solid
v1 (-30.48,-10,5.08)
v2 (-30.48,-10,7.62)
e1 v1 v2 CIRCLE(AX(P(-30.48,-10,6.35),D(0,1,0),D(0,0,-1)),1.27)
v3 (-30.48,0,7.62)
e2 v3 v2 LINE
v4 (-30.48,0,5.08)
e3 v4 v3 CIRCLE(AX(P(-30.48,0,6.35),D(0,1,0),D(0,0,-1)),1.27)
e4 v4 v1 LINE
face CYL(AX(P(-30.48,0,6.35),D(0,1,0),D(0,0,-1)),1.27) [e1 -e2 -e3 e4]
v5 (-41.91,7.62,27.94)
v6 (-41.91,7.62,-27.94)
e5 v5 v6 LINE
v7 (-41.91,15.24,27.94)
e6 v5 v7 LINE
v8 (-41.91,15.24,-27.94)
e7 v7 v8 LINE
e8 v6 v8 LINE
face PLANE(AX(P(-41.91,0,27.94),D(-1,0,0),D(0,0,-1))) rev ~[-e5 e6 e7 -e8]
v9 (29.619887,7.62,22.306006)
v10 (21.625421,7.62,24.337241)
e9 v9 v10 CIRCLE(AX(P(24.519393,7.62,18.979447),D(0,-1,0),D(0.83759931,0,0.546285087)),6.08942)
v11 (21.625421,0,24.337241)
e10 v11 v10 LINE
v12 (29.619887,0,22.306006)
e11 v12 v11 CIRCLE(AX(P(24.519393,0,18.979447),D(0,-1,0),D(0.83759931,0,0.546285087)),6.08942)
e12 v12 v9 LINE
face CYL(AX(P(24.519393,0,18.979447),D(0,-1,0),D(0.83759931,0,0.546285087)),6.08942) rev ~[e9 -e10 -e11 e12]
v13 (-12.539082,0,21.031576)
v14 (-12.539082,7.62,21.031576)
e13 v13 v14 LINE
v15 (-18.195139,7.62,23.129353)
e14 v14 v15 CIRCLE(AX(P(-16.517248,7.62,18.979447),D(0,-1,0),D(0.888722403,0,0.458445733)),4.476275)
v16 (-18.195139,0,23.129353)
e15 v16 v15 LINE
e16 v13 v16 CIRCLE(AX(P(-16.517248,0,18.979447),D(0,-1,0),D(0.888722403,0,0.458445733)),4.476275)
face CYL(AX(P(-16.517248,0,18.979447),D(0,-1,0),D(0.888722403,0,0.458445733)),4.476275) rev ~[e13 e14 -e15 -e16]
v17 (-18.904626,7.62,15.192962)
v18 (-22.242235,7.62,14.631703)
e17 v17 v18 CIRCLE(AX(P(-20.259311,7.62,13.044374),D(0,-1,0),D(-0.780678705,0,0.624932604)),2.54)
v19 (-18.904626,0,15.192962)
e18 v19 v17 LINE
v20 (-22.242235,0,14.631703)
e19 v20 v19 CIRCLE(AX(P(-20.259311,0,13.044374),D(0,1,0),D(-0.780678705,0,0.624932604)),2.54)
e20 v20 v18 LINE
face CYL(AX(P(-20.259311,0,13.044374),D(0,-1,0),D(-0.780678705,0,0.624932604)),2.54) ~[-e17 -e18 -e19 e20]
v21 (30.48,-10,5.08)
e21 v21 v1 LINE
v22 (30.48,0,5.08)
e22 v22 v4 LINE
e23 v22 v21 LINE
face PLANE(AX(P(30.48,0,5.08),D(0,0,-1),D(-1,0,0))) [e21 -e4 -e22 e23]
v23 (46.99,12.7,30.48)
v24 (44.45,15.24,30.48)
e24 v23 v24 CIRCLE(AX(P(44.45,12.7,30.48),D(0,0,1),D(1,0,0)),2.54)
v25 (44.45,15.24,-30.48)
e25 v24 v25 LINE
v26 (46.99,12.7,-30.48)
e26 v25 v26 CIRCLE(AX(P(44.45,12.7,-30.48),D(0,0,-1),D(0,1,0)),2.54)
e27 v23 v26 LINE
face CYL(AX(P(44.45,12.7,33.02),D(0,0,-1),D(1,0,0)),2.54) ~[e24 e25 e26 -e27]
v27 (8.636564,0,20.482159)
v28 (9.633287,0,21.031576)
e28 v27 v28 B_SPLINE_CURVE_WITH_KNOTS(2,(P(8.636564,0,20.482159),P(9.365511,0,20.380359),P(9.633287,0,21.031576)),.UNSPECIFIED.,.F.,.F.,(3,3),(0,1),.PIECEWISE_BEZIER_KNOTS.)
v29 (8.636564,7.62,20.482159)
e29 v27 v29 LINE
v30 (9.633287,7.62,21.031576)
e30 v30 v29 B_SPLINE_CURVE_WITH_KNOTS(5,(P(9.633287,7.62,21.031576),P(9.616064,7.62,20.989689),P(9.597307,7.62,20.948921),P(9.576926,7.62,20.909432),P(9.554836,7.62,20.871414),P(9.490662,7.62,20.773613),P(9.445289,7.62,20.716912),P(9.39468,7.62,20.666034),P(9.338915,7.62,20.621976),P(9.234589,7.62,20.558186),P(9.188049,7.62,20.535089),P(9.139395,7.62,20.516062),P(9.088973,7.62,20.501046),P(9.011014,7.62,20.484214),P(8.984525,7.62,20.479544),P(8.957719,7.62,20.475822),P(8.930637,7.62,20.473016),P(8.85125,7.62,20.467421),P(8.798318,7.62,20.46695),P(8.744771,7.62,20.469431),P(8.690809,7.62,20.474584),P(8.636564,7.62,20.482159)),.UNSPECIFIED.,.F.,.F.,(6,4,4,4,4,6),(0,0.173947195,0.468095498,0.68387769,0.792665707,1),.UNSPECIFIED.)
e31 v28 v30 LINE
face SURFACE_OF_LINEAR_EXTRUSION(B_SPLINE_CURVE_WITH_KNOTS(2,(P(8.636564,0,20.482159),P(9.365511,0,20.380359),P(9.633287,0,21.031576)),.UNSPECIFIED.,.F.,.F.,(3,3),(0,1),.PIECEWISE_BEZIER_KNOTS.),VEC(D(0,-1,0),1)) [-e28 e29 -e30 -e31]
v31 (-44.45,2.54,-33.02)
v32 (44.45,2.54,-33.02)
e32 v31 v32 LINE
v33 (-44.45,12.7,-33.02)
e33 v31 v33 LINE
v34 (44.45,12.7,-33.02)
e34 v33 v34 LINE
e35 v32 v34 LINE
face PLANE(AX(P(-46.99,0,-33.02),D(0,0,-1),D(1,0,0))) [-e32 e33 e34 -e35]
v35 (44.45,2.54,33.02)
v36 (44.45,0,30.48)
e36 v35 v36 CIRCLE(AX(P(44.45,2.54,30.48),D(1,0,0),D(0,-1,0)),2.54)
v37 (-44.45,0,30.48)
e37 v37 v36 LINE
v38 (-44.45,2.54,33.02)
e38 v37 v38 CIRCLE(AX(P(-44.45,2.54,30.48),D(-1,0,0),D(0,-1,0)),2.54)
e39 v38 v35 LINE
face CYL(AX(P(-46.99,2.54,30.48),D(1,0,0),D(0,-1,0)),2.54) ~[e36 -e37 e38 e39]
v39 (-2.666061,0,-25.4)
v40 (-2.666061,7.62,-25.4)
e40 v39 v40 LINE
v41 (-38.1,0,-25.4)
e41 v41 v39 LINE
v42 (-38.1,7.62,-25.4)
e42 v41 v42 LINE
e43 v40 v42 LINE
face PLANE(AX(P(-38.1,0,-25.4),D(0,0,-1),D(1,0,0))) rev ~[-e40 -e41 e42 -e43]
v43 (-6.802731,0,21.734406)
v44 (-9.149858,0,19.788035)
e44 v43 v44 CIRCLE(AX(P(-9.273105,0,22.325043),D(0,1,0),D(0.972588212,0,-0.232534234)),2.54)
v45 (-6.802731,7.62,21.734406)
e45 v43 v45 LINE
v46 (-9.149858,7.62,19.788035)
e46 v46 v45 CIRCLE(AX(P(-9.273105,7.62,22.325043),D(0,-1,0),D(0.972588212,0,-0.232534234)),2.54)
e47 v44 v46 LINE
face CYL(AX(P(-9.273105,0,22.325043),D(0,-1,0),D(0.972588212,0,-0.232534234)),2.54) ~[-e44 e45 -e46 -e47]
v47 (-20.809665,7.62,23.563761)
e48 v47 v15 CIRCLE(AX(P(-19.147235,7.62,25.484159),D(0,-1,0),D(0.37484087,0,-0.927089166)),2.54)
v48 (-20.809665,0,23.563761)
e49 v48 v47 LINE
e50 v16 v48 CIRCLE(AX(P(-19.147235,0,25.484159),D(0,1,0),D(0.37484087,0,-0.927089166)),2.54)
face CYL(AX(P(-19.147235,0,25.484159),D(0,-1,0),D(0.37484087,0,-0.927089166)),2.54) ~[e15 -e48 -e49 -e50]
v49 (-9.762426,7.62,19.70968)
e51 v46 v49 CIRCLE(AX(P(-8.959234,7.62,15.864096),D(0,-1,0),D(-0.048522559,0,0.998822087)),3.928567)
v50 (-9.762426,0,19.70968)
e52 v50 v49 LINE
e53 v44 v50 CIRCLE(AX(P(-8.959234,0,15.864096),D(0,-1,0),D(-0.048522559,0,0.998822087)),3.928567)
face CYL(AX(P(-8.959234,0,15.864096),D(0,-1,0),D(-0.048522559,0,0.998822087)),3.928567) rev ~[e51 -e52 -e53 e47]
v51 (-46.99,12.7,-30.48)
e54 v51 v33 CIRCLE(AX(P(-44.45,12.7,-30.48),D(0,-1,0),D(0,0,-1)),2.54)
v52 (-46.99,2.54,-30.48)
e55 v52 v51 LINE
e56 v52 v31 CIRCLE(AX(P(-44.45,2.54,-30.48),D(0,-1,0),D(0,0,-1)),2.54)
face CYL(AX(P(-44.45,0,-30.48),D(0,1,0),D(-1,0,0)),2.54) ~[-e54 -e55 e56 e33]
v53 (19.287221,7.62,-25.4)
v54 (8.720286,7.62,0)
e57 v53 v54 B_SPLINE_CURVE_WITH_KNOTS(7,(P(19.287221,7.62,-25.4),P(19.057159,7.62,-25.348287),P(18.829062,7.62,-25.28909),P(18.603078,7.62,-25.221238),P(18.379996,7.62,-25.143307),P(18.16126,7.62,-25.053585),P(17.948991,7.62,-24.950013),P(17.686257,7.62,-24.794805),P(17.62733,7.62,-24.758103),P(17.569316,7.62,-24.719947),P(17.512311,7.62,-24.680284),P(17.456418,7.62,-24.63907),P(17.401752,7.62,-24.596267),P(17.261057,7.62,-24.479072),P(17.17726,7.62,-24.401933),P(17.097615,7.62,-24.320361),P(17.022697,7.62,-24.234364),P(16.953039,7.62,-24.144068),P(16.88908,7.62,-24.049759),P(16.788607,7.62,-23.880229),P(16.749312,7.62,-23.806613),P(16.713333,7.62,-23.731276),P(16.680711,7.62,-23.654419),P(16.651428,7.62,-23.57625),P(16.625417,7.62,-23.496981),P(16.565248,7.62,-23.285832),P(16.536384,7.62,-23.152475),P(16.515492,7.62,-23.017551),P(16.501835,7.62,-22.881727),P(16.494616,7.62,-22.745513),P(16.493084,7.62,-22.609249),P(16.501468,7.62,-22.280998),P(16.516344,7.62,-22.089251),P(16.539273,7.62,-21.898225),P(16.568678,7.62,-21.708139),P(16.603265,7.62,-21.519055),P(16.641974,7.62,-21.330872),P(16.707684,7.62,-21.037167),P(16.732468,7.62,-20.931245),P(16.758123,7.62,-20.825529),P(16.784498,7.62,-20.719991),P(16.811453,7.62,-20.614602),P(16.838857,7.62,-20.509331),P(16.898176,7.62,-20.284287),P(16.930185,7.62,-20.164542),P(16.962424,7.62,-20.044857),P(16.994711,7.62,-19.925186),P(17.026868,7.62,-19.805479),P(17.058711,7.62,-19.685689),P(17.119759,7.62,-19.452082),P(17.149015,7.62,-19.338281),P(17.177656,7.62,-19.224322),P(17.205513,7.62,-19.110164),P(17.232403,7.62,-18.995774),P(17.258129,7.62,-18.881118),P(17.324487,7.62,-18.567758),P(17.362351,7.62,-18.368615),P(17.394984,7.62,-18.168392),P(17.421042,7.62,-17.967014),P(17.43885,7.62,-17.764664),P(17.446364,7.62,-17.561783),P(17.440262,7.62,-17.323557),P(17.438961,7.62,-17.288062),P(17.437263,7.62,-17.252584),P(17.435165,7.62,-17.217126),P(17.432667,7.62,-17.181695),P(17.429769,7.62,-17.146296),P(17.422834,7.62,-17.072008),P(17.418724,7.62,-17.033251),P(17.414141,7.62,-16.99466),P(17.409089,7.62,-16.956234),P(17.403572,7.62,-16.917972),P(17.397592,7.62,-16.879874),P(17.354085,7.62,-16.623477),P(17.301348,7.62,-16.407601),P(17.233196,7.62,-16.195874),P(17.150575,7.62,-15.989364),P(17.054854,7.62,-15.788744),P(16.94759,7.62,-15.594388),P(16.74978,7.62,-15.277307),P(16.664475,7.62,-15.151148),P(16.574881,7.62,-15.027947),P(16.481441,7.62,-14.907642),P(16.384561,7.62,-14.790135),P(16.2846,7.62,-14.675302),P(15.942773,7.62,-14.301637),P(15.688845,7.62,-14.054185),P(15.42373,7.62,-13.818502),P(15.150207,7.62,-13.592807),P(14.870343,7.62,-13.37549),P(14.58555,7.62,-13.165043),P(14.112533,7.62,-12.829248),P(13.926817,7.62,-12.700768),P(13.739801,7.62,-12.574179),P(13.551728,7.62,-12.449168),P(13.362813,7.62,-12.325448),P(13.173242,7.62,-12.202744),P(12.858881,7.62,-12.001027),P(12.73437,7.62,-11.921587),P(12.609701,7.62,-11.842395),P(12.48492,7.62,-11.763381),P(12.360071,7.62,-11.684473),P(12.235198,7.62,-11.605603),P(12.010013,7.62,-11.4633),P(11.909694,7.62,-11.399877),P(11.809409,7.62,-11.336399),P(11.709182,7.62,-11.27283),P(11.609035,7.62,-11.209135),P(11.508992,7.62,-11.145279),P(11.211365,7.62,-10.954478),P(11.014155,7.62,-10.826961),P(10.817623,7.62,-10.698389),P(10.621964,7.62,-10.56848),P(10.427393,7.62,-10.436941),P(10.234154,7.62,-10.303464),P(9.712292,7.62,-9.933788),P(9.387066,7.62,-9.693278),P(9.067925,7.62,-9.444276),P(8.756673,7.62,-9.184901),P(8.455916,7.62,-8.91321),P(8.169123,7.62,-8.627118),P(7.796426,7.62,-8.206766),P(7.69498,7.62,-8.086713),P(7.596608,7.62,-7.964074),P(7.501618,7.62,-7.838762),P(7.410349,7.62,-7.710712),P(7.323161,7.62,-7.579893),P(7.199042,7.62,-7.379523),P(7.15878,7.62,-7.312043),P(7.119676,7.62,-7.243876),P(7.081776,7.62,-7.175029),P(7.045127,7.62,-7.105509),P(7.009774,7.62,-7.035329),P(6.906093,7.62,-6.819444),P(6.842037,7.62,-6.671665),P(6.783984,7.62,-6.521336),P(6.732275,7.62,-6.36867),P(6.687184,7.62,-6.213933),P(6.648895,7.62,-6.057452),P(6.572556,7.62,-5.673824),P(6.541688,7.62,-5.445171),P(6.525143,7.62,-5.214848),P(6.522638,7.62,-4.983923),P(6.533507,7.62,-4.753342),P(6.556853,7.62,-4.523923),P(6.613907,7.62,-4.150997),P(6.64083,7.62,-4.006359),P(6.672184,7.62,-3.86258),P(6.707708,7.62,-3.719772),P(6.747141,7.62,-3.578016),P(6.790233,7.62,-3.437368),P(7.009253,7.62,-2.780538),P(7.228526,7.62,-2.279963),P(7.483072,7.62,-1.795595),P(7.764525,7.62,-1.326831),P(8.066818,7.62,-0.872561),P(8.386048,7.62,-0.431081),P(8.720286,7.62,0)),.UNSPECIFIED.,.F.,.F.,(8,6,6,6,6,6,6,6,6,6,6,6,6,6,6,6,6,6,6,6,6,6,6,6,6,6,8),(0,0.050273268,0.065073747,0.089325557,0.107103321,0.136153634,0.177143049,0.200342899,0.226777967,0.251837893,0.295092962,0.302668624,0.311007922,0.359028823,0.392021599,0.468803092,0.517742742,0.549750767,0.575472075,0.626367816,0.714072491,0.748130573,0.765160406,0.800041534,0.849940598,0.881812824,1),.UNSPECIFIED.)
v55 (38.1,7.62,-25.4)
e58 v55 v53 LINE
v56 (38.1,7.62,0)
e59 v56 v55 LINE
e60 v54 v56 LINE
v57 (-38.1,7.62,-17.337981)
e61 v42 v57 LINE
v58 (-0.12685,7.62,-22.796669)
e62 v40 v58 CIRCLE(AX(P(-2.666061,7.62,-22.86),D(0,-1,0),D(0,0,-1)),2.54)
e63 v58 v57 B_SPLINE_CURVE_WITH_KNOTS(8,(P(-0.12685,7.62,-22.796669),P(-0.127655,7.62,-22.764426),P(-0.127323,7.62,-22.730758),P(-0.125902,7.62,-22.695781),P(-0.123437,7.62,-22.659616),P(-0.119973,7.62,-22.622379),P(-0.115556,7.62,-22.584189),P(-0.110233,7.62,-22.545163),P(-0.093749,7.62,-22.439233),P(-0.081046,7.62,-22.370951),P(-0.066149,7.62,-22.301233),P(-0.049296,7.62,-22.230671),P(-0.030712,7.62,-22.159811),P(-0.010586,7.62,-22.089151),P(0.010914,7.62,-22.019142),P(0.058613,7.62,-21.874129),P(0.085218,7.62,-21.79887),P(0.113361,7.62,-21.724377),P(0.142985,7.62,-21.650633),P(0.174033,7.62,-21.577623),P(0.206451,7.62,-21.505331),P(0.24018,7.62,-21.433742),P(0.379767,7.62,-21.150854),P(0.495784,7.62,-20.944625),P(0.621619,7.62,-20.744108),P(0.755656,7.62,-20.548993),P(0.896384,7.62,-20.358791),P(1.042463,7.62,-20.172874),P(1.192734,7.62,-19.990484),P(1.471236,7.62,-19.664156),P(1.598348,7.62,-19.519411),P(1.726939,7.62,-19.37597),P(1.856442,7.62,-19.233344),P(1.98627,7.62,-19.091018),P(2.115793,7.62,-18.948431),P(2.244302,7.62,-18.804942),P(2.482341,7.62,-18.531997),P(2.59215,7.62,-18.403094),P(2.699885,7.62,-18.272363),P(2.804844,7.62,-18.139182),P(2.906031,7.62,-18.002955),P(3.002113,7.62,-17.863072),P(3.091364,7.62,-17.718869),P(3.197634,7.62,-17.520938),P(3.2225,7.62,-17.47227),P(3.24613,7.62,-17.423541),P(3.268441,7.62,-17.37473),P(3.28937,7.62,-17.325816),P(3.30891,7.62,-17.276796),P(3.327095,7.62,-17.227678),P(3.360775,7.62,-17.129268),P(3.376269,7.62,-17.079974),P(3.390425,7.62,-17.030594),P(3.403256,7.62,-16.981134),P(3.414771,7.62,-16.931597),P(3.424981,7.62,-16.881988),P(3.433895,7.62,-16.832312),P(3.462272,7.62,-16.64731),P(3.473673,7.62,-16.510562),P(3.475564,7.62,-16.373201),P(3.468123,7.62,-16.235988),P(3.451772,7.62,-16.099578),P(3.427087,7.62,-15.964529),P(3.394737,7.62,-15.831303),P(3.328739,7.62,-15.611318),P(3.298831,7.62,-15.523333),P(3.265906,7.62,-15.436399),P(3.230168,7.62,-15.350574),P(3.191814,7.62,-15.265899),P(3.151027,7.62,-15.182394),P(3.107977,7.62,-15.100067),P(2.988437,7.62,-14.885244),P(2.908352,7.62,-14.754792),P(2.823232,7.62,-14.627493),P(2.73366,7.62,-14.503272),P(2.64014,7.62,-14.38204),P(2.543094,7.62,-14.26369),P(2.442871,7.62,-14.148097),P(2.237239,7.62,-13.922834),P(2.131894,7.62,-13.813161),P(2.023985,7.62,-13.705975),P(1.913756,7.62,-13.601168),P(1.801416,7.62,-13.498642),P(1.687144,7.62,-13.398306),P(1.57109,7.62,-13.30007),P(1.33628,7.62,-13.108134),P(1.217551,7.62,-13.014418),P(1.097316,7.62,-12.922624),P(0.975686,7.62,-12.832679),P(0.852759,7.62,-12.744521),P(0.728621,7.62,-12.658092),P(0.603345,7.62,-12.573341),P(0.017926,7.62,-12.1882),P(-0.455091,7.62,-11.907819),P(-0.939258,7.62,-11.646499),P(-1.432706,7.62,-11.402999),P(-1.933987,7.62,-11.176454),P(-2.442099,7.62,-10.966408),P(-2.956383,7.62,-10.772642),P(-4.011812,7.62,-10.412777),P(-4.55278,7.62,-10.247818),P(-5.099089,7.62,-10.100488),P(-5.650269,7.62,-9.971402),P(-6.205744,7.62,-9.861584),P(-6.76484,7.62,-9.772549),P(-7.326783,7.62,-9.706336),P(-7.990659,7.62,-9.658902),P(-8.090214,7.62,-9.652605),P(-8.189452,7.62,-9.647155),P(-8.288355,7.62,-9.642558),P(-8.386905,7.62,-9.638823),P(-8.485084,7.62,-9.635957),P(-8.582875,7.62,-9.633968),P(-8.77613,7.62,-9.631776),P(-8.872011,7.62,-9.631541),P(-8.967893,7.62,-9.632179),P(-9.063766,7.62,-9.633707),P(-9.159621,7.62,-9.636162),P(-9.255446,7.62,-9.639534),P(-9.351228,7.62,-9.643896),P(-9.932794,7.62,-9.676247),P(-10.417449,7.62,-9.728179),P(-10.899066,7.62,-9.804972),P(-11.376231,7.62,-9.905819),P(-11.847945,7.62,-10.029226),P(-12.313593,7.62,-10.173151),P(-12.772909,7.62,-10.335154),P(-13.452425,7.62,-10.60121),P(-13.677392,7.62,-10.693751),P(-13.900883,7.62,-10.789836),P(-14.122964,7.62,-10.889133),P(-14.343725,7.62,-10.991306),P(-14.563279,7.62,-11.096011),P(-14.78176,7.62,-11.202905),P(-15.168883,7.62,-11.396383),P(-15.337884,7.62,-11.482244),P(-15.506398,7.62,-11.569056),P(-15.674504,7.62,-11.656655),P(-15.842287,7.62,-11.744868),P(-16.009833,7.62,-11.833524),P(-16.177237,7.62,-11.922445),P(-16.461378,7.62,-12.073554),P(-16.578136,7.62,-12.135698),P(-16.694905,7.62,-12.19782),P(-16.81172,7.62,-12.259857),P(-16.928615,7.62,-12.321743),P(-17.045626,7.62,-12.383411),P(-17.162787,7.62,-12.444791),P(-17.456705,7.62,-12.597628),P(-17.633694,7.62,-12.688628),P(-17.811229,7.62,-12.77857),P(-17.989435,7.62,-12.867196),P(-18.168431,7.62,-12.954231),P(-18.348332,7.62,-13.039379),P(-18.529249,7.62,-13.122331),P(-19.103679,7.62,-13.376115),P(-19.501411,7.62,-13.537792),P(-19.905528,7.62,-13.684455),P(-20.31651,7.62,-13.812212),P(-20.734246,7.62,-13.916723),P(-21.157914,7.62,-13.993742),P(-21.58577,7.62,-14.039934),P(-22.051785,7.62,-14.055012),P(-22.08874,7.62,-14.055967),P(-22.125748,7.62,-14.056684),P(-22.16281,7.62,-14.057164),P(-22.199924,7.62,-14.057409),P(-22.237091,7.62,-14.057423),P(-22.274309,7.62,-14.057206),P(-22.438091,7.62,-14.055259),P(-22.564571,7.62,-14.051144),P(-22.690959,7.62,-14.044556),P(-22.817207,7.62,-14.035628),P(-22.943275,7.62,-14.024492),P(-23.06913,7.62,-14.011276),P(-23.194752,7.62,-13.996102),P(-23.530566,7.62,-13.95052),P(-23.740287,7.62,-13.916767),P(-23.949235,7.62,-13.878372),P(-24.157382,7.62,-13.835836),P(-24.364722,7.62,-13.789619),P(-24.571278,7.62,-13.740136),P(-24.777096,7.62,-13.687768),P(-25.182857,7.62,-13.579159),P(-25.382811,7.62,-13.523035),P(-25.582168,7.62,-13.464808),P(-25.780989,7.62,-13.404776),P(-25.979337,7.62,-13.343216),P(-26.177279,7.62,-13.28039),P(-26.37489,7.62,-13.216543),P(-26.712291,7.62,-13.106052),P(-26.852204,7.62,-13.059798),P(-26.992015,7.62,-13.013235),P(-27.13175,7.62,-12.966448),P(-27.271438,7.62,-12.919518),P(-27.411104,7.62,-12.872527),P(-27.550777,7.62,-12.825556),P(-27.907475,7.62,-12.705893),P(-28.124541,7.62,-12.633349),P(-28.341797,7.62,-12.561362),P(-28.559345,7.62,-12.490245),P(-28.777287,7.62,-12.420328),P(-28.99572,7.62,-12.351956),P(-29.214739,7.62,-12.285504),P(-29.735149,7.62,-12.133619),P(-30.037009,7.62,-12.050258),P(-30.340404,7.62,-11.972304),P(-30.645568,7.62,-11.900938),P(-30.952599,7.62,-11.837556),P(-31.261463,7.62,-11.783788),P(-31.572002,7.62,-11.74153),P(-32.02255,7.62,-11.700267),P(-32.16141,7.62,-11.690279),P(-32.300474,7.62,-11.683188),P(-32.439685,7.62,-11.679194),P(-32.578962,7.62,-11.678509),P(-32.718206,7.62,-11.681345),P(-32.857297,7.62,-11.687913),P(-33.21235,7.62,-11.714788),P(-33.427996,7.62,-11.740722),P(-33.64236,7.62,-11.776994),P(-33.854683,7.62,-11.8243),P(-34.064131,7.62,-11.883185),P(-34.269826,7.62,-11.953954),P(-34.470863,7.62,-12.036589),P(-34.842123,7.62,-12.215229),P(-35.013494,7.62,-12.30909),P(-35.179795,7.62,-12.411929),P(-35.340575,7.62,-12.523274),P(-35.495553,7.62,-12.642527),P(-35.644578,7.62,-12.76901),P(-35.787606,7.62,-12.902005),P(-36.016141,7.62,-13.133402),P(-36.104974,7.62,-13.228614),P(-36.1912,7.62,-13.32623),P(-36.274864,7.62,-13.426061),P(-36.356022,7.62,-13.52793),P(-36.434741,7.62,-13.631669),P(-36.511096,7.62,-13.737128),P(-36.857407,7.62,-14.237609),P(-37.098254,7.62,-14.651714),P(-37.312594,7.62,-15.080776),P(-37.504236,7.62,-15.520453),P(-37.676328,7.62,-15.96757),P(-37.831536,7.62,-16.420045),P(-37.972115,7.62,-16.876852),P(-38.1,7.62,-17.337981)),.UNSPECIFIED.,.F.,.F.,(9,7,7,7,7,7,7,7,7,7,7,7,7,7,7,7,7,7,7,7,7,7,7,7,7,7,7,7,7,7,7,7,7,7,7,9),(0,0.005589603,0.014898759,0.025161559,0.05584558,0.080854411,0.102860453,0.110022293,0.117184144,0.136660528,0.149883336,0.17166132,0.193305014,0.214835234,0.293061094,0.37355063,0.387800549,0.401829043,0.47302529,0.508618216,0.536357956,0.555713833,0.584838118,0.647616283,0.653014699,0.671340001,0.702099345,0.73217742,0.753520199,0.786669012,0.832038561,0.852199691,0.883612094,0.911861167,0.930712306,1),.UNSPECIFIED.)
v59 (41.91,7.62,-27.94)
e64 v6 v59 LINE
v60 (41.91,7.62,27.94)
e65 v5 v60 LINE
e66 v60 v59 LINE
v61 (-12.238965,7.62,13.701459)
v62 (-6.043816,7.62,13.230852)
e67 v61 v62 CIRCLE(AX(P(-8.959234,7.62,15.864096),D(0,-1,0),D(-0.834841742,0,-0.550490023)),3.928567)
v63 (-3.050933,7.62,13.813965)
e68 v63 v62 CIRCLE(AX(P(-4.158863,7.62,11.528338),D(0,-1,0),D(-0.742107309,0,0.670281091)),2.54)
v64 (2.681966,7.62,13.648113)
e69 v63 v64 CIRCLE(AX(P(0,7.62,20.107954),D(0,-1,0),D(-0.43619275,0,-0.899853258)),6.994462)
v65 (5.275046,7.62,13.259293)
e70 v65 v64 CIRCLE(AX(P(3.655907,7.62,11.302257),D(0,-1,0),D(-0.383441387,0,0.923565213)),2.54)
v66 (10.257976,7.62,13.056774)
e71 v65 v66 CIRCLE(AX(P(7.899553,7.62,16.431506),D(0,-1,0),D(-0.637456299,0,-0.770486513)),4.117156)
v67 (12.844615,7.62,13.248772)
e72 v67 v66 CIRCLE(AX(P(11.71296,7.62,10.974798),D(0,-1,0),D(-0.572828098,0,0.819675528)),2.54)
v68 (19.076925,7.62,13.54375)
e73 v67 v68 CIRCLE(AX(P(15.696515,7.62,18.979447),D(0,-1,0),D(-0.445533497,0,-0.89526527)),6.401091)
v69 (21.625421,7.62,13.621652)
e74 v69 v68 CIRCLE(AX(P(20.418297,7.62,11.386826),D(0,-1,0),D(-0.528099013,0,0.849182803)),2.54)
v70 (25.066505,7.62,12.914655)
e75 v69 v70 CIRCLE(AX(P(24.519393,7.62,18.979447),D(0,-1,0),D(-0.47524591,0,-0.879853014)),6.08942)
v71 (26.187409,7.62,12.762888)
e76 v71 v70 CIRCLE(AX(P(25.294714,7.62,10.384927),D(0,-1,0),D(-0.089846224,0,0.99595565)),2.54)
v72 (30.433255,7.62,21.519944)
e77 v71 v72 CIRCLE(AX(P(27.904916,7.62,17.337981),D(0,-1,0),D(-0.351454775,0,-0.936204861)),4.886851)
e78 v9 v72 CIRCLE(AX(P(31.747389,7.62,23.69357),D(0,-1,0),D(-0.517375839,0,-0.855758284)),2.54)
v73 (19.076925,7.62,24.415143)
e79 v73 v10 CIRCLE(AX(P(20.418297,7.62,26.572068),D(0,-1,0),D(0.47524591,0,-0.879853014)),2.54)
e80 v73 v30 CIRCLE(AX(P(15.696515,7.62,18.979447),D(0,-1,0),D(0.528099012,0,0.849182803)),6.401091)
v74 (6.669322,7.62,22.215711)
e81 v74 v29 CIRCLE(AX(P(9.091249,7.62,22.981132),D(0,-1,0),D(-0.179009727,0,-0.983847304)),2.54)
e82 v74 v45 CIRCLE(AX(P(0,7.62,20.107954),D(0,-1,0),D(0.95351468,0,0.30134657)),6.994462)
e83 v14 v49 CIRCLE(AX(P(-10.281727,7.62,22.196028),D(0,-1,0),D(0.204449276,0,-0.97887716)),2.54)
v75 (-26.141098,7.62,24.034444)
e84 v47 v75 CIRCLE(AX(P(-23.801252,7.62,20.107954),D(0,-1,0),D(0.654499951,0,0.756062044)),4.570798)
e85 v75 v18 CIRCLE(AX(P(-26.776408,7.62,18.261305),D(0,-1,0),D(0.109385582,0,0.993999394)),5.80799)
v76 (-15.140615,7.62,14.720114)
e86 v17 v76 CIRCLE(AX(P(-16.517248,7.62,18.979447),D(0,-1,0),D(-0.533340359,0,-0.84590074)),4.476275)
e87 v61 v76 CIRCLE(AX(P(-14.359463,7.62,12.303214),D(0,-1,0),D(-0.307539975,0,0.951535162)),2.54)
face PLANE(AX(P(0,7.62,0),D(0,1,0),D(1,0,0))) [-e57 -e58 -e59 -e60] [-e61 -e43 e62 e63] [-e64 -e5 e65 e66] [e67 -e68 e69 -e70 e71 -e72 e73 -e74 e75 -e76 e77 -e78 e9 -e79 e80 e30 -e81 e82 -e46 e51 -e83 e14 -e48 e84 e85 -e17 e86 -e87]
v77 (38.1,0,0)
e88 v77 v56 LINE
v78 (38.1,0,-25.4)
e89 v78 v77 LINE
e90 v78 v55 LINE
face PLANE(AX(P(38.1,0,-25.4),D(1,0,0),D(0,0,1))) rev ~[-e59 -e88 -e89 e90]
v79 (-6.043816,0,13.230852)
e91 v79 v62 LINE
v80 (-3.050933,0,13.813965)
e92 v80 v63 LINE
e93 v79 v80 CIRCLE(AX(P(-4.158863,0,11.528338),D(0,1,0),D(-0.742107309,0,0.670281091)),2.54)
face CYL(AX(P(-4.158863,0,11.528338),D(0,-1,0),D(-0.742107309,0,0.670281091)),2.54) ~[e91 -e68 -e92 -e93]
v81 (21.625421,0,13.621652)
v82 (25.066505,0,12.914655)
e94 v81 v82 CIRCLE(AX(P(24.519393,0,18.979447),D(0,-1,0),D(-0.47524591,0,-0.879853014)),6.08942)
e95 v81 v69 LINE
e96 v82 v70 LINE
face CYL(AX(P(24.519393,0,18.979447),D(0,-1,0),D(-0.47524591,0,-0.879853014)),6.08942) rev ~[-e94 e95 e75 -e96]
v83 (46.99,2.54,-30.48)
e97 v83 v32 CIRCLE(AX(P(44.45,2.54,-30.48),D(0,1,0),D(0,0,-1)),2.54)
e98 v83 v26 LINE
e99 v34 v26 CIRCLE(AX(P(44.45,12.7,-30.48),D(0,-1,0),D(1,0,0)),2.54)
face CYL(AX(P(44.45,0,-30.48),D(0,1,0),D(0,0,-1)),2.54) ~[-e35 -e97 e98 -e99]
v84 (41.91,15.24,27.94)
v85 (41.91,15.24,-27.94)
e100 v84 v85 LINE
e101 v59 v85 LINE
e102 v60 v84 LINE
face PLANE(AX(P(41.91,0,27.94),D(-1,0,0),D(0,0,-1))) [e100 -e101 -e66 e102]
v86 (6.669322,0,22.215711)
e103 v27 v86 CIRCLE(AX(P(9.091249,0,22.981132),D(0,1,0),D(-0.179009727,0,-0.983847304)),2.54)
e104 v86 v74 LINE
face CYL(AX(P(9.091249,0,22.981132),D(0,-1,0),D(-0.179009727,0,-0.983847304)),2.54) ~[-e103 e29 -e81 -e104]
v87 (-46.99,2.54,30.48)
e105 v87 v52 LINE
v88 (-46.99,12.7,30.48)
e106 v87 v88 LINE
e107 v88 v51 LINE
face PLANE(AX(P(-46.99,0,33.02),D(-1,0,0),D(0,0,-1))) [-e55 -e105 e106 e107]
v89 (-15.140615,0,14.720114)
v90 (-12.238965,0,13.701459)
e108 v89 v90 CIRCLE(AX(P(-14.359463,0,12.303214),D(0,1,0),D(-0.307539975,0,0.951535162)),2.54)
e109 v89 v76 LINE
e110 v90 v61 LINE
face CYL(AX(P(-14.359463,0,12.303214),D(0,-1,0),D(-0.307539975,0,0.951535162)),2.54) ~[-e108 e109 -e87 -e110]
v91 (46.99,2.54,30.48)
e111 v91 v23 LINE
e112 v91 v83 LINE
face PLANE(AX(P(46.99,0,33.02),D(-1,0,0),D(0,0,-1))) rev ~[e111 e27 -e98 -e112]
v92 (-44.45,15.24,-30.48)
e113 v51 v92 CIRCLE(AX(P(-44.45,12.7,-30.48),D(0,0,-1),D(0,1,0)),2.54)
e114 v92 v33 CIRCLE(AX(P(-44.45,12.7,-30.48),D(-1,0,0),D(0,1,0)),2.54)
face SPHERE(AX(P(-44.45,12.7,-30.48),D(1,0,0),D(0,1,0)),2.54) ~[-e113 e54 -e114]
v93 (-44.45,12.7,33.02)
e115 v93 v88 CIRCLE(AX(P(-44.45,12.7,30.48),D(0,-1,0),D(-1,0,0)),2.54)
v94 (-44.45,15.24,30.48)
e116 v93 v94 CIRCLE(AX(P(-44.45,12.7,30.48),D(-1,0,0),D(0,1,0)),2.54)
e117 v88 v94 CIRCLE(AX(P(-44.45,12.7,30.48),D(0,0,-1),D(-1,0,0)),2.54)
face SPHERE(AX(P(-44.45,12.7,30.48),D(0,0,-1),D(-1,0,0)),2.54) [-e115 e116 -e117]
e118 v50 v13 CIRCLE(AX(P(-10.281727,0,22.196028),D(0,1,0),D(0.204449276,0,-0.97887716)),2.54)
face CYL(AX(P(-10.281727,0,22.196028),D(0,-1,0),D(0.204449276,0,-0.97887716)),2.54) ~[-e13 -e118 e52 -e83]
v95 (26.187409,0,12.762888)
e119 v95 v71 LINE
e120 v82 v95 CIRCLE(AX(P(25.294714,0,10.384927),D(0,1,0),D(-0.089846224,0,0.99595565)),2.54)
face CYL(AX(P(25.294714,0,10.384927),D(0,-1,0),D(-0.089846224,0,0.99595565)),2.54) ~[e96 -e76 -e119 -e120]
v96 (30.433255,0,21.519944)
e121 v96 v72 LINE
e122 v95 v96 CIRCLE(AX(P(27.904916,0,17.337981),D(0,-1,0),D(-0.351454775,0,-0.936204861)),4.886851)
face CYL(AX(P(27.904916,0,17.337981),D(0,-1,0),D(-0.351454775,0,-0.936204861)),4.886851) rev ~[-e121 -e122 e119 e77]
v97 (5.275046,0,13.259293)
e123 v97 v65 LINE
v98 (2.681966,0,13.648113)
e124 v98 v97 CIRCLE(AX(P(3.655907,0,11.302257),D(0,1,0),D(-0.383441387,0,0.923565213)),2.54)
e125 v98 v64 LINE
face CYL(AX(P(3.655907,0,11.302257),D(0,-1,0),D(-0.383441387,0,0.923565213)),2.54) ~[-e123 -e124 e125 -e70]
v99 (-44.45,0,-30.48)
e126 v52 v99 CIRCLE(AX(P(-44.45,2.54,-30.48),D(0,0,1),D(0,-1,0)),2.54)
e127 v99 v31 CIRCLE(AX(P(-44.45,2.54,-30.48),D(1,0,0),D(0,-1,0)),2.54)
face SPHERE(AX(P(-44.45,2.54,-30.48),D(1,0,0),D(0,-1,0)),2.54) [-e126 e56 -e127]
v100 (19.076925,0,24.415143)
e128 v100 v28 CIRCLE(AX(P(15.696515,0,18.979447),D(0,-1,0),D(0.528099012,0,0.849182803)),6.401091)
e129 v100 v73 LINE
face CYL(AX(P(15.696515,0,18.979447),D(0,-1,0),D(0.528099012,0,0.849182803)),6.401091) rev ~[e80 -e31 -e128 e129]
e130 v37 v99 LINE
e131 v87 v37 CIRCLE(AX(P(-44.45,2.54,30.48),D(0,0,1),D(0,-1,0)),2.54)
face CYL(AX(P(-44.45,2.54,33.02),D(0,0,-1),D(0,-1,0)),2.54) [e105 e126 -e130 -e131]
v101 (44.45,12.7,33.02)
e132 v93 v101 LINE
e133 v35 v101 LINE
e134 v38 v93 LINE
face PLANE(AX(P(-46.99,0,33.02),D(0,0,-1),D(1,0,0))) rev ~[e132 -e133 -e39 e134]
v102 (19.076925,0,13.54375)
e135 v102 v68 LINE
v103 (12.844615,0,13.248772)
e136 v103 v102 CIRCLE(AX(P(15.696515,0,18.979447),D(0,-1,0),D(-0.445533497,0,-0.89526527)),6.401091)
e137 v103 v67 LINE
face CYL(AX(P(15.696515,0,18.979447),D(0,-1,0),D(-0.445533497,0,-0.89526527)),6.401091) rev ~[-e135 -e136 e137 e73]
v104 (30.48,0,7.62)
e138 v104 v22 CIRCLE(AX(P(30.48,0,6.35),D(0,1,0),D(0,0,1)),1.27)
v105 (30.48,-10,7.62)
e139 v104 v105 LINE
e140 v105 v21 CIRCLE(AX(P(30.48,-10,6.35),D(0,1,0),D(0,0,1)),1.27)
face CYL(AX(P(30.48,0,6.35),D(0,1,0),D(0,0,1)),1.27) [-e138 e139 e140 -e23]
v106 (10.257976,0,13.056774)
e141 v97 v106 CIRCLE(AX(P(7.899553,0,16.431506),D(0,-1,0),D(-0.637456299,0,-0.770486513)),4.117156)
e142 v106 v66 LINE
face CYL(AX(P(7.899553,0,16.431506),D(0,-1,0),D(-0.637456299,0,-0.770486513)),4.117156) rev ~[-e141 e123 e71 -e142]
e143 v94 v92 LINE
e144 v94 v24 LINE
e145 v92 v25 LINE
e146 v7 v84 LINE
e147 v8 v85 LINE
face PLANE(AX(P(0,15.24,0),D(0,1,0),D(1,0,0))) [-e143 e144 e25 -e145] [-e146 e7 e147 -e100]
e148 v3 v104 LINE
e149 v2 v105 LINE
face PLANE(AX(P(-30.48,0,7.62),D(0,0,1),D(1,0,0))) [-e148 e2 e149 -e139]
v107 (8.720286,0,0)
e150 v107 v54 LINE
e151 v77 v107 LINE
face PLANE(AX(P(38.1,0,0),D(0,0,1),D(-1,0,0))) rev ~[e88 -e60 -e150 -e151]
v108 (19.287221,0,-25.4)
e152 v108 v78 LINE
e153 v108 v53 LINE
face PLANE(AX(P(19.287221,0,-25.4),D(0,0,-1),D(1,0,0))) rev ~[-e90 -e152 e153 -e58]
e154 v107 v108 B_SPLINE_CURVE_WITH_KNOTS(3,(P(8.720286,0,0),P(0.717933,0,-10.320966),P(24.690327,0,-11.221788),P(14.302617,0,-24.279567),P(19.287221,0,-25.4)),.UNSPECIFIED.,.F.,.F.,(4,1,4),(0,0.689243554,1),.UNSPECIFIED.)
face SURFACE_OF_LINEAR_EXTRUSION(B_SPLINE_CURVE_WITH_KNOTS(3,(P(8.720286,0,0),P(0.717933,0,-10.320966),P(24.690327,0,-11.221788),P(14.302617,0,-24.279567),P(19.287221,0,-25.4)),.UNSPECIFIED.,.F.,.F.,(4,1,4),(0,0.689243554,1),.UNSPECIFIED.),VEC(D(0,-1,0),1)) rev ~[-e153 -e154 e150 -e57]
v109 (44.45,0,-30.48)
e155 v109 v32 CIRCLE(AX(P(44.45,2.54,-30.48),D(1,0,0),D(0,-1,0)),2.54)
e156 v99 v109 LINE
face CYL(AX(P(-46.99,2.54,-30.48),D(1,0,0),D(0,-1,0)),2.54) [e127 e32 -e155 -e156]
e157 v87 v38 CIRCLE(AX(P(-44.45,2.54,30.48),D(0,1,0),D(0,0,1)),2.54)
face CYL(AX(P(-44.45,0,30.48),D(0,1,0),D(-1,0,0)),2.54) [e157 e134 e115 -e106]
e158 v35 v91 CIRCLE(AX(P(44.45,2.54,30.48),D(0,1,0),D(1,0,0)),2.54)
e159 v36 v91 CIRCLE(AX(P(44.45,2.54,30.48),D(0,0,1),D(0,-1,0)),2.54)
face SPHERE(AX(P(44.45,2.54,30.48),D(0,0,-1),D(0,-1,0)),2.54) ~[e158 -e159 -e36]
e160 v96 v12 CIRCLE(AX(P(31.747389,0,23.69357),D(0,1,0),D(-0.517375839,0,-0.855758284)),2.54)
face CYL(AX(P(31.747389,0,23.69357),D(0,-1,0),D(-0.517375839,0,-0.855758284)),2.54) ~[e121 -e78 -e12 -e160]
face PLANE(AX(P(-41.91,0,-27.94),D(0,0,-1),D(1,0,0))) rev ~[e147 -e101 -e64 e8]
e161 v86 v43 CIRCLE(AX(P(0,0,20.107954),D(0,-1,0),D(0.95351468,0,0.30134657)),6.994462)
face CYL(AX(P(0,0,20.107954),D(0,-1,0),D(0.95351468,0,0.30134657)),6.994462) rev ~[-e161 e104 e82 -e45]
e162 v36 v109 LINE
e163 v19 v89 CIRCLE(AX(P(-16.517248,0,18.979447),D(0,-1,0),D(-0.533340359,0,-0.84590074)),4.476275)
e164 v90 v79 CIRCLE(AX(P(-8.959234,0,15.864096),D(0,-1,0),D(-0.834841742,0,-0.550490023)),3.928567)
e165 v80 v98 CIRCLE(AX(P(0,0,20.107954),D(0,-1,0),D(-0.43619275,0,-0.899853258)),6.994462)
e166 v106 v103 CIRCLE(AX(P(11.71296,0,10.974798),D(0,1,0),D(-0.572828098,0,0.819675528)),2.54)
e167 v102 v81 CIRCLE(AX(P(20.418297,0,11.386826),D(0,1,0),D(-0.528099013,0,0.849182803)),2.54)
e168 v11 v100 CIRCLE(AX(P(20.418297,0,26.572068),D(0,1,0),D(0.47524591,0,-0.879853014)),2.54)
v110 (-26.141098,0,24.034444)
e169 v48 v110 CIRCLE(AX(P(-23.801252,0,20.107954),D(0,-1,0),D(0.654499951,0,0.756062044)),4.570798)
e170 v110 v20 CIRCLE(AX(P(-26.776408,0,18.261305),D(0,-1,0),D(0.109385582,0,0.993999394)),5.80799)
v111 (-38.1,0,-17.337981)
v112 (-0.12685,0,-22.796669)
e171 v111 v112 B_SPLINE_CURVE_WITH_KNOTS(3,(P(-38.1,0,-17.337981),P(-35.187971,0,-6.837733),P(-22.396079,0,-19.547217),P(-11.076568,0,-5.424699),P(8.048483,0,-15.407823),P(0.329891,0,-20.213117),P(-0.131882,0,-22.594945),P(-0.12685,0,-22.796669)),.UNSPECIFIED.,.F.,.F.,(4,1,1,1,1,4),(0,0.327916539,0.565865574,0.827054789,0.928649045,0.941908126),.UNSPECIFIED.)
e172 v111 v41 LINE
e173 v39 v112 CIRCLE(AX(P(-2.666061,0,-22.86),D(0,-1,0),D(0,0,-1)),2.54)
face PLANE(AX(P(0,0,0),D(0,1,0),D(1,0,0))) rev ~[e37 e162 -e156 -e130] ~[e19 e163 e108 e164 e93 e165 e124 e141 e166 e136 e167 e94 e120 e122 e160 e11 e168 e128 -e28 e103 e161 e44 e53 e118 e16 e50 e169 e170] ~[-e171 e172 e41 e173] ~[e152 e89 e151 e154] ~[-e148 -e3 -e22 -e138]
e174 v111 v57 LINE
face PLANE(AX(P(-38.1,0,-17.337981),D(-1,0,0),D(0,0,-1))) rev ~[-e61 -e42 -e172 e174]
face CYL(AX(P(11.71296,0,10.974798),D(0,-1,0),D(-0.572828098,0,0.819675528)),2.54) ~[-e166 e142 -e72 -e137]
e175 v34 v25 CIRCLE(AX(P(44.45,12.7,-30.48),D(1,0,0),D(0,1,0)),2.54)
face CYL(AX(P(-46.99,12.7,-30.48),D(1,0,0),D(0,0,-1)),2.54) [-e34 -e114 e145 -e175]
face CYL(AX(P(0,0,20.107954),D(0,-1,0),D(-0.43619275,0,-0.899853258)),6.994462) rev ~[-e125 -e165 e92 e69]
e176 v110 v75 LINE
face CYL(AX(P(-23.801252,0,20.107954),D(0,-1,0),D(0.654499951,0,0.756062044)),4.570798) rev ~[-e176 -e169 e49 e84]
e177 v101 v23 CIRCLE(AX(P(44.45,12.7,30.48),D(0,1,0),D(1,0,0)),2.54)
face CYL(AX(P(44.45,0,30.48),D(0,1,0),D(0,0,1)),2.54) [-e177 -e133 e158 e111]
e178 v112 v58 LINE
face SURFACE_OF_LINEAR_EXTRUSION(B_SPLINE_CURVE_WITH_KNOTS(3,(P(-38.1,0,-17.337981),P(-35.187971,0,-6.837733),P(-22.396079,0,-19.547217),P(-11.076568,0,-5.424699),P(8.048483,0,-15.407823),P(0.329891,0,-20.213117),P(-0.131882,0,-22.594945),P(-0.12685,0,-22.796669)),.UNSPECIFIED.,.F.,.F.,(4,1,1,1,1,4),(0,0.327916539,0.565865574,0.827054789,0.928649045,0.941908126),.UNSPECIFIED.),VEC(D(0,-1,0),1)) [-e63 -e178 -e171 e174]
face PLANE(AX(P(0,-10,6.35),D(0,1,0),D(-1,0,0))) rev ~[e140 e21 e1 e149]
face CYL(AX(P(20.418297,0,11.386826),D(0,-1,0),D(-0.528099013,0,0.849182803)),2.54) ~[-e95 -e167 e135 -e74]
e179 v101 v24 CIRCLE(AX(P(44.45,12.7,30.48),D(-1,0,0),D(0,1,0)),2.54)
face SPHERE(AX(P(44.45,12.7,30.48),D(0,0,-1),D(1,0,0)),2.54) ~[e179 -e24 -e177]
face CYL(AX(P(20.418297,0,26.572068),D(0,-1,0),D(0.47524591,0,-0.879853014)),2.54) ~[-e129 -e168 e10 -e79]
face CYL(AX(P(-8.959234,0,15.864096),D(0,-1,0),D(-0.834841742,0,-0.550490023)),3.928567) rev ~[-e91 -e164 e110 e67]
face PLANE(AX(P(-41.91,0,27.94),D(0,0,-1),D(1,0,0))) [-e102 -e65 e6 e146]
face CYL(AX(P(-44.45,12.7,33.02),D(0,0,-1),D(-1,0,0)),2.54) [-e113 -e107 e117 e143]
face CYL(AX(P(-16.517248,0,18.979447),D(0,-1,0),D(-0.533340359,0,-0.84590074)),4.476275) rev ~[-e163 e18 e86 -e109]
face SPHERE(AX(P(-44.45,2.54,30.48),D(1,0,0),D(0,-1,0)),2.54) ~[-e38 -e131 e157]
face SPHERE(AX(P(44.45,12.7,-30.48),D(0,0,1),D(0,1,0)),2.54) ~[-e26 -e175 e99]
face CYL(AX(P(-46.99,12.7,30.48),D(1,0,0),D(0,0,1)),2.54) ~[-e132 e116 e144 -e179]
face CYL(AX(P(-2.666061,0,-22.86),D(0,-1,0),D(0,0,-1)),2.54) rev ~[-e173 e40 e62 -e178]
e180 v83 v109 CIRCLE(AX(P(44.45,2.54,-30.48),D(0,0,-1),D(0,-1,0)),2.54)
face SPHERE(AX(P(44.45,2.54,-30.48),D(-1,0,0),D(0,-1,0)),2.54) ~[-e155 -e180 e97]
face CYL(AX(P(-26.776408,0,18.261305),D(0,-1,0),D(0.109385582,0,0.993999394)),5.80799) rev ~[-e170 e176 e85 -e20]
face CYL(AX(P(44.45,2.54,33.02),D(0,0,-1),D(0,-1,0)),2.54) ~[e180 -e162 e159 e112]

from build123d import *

# Parameters (mm, degrees)
SKETCH1_W           = 93.98
SKETCH1_H           = 66.04
SKETCH1_W_2         = 83.82
SKETCH1_H_2         = 55.88
BOSS_EXTRUDE1_DEPTH = 15.24
SKETCH3_W           = 83.82
SKETCH3_H           = 55.88
BOSS_EXTRUDE2_DEPTH = 7.62
BOSS_EXTRUDE3_DEPTH = 10
FILLET1_R           = 2.54
CUT_EXTRUDE1_DEPTH  = 16.24


with BuildPart() as part:
    # Sketch1 → Boss-Extrude1 (new body)
    with BuildSketch(Plane(origin=(0, 0, 0), x_dir=(1, 0, 0), z_dir=(0, 1, 0))):
        Rectangle(SKETCH1_W, SKETCH1_H)
        Rectangle(SKETCH1_W_2, SKETCH1_H_2, mode=Mode.SUBTRACT)
    extrude(amount=BOSS_EXTRUDE1_DEPTH)

    # Sketch3 → Boss-Extrude2 (add)
    with BuildSketch(Plane(origin=(0, 0, 0), x_dir=(1, 0, 0), z_dir=(0, 1, 0))):
        Rectangle(SKETCH3_W, SKETCH3_H)
    extrude(amount=BOSS_EXTRUDE2_DEPTH)

    # Sketch4 → Boss-Extrude3 (add)
    with BuildSketch(Plane.XZ):
        with BuildLine():
            Line((-30.48, 7.62), (30.48, 7.62))
            ThreePointArc((30.48, 7.62), (31.75, 6.35), (30.48, 5.08))
            Line((30.48, 5.08), (-30.48, 5.08))
            ThreePointArc((-30.48, 5.08), (-31.75, 6.35), (-30.48, 7.62))
        make_face()
    extrude(amount=BOSS_EXTRUDE3_DEPTH)

    # Fillet1
    fillet1_edges = [part.edges().sort_by_distance(p)[0] for p in [
        (46.99, 15.24, 0),
        (0, 15.24, -33.02),
        (-46.99, 15.24, 0),
        (0, 0, -33.02),
        (46.99, 0, 0),
        (0, 0, 33.02),
        (-46.99, 0, 0),
        (-46.99, 7.62, -33.02),
        (46.99, 7.62, -33.02),
        (46.99, 7.62, 33.02),
        (-46.99, 7.62, 33.02),
        (0, 15.24, 33.02),
    ]]
    fillet(fillet1_edges, radius=FILLET1_R)

    # Sketch5 → Cut-Extrude1 (cut, through all)
    with BuildSketch(Plane.XZ):
        with BuildLine():
            Line((38.1, 0), (8.720286281, 0))
            add(Edge.make_bspline(
                [(8.720286281, 0), (0.717932636, -10.320966423), (24.690327376, -11.221788079), (14.302617373, -24.27956655), (19.287221421, -25.4)],
                knots=[0, 0, 0, 0, 0.689243554, 1, 1, 1, 1], degree=3))
            Line((19.287221421, -25.4), (38.1, -25.4))
            Line((38.1, -25.4), (38.1, 0))
        make_face()
        with BuildLine():
            add(Edge.make_bspline(
                [(-38.1, -17.337980958), (-35.187970865, -6.837732589), (-22.396079464, -19.547216799), (-11.076568018, -5.424698839), (8.04848315, -15.407822573), (0.32989112, -20.213116903), (-0.131881687, -22.594944987), (-0.12685046, -22.796669294)],
                knots=[0, 0, 0, 0, 0.327916539, 0.565865574, 0.827054789, 0.928649045, 0.941908126, 0.941908126, 0.941908126, 0.941908126], degree=3))
            Line((-38.1, -17.337980958), (-38.1, -25.4))
            Line((-38.1, -25.4), (-2.666060814, -25.4))
            ThreePointArc((-2.666060814, -25.4), (-0.84775666, -24.633519101), (-0.12685046, -22.796669294))
        make_face()
        with BuildLine():
            ThreePointArc((-20.809664595, 23.563761473), (-23.399285475, 24.661043475), (-26.141098135, 24.03444358))
            ThreePointArc((-26.141098135, 24.03444358), (-32.141459521, 16.03667712), (-22.24223462, 14.631703292))
            ThreePointArc((-22.24223462, 14.631703292), (-20.680528135, 15.549204987), (-18.904626197, 15.192962357))
            ThreePointArc((-18.904626197, 15.192962357), (-17.075188661, 14.538079772), (-15.140614659, 14.720113645))
            ThreePointArc((-15.140614659, 14.720113645), (-13.518109108, 14.699820982), (-12.238965098, 13.701458994))
            ThreePointArc((-12.238965098, 13.701458994), (-9.256805246, 11.946815164), (-6.043815629, 13.230851799))
            ThreePointArc((-6.043815629, 13.230851799), (-4.644606266, 14.021459072), (-3.050933479, 13.813965102))
            ThreePointArc((-3.050933479, 13.813965102), (-0.202264641, 13.116417687), (2.681966092, 13.648112737))
            ThreePointArc((2.681966092, 13.648112737), (4.032557322, 13.814175625), (5.275046214, 13.259292838))
            ThreePointArc((5.275046214, 13.259292838), (7.732359851, 12.317746114), (10.257976284, 13.056773974))
            ThreePointArc((10.257976284, 13.056773974), (11.524940775, 13.507829697), (12.844614733, 13.248771918))
            ThreePointArc((12.844614733, 13.248771918), (15.999143067, 12.5855131), (19.076925277, 13.543749992))
            ThreePointArc((19.076925277, 13.543749992), (20.340690392, 13.925639815), (21.625421379, 13.621652327))
            ThreePointArc((21.625421379, 13.621652327), (23.29387293, 13.01462201), (25.066504565, 12.914654647))
            ThreePointArc((25.066504565, 12.914654647), (25.635512485, 12.901960546), (26.187409107, 12.762887643))
            ThreePointArc((26.187409107, 12.762887643), (32.302173237, 15.205977496), (30.433254549, 21.519943868))
            ThreePointArc((30.433254549, 21.519943868), (29.982257618, 21.867122384), (29.619886936, 22.306005788))
            ThreePointArc((29.619886936, 22.306005788), (26.018947716, 24.881341954), (21.625421379, 24.337240894))
            ThreePointArc((21.625421379, 24.337240894), (20.340690392, 24.033253406), (19.076925277, 24.415143229))
            ThreePointArc((19.076925277, 24.415143229), (13.537462145, 25.005428585), (9.633287177, 21.031575742))
            add(Edge.make_bspline(
                [(8.636564486, 20.482159427), (9.365510622, 20.380358696), (9.633287177, 21.031575742)],
                knots=[0, 0, 0, 1, 1, 1], degree=2))
            ThreePointArc((8.636564486, 20.482159427), (7.41195629, 21.075462315), (6.669321907, 22.215711291))
            ThreePointArc((6.669321907, 22.215711291), (-0.249726214, 27.097956484), (-6.802730996, 21.734406043))
            ThreePointArc((-6.802730996, 21.734406043), (-7.651745104, 20.369846866), (-9.149857761, 19.788034897))
            ThreePointArc((-9.149857761, 19.788034897), (-9.457684051, 19.760912808), (-9.762426275, 19.709679919))
            ThreePointArc((-9.762426275, 19.709679919), (-11.373542368, 19.902659169), (-12.539082341, 21.031575742))
            ThreePointArc((-12.539082341, 21.031575742), (-14.960654672, 23.176356644), (-18.19513891, 23.129352581))
            ThreePointArc((-18.19513891, 23.129352581), (-19.563553579, 22.978509725), (-20.809664595, 23.563761473))
        make_face()
    extrude(amount=-CUT_EXTRUDE1_DEPTH, mode=Mode.SUBTRACT)


solid = part.part
